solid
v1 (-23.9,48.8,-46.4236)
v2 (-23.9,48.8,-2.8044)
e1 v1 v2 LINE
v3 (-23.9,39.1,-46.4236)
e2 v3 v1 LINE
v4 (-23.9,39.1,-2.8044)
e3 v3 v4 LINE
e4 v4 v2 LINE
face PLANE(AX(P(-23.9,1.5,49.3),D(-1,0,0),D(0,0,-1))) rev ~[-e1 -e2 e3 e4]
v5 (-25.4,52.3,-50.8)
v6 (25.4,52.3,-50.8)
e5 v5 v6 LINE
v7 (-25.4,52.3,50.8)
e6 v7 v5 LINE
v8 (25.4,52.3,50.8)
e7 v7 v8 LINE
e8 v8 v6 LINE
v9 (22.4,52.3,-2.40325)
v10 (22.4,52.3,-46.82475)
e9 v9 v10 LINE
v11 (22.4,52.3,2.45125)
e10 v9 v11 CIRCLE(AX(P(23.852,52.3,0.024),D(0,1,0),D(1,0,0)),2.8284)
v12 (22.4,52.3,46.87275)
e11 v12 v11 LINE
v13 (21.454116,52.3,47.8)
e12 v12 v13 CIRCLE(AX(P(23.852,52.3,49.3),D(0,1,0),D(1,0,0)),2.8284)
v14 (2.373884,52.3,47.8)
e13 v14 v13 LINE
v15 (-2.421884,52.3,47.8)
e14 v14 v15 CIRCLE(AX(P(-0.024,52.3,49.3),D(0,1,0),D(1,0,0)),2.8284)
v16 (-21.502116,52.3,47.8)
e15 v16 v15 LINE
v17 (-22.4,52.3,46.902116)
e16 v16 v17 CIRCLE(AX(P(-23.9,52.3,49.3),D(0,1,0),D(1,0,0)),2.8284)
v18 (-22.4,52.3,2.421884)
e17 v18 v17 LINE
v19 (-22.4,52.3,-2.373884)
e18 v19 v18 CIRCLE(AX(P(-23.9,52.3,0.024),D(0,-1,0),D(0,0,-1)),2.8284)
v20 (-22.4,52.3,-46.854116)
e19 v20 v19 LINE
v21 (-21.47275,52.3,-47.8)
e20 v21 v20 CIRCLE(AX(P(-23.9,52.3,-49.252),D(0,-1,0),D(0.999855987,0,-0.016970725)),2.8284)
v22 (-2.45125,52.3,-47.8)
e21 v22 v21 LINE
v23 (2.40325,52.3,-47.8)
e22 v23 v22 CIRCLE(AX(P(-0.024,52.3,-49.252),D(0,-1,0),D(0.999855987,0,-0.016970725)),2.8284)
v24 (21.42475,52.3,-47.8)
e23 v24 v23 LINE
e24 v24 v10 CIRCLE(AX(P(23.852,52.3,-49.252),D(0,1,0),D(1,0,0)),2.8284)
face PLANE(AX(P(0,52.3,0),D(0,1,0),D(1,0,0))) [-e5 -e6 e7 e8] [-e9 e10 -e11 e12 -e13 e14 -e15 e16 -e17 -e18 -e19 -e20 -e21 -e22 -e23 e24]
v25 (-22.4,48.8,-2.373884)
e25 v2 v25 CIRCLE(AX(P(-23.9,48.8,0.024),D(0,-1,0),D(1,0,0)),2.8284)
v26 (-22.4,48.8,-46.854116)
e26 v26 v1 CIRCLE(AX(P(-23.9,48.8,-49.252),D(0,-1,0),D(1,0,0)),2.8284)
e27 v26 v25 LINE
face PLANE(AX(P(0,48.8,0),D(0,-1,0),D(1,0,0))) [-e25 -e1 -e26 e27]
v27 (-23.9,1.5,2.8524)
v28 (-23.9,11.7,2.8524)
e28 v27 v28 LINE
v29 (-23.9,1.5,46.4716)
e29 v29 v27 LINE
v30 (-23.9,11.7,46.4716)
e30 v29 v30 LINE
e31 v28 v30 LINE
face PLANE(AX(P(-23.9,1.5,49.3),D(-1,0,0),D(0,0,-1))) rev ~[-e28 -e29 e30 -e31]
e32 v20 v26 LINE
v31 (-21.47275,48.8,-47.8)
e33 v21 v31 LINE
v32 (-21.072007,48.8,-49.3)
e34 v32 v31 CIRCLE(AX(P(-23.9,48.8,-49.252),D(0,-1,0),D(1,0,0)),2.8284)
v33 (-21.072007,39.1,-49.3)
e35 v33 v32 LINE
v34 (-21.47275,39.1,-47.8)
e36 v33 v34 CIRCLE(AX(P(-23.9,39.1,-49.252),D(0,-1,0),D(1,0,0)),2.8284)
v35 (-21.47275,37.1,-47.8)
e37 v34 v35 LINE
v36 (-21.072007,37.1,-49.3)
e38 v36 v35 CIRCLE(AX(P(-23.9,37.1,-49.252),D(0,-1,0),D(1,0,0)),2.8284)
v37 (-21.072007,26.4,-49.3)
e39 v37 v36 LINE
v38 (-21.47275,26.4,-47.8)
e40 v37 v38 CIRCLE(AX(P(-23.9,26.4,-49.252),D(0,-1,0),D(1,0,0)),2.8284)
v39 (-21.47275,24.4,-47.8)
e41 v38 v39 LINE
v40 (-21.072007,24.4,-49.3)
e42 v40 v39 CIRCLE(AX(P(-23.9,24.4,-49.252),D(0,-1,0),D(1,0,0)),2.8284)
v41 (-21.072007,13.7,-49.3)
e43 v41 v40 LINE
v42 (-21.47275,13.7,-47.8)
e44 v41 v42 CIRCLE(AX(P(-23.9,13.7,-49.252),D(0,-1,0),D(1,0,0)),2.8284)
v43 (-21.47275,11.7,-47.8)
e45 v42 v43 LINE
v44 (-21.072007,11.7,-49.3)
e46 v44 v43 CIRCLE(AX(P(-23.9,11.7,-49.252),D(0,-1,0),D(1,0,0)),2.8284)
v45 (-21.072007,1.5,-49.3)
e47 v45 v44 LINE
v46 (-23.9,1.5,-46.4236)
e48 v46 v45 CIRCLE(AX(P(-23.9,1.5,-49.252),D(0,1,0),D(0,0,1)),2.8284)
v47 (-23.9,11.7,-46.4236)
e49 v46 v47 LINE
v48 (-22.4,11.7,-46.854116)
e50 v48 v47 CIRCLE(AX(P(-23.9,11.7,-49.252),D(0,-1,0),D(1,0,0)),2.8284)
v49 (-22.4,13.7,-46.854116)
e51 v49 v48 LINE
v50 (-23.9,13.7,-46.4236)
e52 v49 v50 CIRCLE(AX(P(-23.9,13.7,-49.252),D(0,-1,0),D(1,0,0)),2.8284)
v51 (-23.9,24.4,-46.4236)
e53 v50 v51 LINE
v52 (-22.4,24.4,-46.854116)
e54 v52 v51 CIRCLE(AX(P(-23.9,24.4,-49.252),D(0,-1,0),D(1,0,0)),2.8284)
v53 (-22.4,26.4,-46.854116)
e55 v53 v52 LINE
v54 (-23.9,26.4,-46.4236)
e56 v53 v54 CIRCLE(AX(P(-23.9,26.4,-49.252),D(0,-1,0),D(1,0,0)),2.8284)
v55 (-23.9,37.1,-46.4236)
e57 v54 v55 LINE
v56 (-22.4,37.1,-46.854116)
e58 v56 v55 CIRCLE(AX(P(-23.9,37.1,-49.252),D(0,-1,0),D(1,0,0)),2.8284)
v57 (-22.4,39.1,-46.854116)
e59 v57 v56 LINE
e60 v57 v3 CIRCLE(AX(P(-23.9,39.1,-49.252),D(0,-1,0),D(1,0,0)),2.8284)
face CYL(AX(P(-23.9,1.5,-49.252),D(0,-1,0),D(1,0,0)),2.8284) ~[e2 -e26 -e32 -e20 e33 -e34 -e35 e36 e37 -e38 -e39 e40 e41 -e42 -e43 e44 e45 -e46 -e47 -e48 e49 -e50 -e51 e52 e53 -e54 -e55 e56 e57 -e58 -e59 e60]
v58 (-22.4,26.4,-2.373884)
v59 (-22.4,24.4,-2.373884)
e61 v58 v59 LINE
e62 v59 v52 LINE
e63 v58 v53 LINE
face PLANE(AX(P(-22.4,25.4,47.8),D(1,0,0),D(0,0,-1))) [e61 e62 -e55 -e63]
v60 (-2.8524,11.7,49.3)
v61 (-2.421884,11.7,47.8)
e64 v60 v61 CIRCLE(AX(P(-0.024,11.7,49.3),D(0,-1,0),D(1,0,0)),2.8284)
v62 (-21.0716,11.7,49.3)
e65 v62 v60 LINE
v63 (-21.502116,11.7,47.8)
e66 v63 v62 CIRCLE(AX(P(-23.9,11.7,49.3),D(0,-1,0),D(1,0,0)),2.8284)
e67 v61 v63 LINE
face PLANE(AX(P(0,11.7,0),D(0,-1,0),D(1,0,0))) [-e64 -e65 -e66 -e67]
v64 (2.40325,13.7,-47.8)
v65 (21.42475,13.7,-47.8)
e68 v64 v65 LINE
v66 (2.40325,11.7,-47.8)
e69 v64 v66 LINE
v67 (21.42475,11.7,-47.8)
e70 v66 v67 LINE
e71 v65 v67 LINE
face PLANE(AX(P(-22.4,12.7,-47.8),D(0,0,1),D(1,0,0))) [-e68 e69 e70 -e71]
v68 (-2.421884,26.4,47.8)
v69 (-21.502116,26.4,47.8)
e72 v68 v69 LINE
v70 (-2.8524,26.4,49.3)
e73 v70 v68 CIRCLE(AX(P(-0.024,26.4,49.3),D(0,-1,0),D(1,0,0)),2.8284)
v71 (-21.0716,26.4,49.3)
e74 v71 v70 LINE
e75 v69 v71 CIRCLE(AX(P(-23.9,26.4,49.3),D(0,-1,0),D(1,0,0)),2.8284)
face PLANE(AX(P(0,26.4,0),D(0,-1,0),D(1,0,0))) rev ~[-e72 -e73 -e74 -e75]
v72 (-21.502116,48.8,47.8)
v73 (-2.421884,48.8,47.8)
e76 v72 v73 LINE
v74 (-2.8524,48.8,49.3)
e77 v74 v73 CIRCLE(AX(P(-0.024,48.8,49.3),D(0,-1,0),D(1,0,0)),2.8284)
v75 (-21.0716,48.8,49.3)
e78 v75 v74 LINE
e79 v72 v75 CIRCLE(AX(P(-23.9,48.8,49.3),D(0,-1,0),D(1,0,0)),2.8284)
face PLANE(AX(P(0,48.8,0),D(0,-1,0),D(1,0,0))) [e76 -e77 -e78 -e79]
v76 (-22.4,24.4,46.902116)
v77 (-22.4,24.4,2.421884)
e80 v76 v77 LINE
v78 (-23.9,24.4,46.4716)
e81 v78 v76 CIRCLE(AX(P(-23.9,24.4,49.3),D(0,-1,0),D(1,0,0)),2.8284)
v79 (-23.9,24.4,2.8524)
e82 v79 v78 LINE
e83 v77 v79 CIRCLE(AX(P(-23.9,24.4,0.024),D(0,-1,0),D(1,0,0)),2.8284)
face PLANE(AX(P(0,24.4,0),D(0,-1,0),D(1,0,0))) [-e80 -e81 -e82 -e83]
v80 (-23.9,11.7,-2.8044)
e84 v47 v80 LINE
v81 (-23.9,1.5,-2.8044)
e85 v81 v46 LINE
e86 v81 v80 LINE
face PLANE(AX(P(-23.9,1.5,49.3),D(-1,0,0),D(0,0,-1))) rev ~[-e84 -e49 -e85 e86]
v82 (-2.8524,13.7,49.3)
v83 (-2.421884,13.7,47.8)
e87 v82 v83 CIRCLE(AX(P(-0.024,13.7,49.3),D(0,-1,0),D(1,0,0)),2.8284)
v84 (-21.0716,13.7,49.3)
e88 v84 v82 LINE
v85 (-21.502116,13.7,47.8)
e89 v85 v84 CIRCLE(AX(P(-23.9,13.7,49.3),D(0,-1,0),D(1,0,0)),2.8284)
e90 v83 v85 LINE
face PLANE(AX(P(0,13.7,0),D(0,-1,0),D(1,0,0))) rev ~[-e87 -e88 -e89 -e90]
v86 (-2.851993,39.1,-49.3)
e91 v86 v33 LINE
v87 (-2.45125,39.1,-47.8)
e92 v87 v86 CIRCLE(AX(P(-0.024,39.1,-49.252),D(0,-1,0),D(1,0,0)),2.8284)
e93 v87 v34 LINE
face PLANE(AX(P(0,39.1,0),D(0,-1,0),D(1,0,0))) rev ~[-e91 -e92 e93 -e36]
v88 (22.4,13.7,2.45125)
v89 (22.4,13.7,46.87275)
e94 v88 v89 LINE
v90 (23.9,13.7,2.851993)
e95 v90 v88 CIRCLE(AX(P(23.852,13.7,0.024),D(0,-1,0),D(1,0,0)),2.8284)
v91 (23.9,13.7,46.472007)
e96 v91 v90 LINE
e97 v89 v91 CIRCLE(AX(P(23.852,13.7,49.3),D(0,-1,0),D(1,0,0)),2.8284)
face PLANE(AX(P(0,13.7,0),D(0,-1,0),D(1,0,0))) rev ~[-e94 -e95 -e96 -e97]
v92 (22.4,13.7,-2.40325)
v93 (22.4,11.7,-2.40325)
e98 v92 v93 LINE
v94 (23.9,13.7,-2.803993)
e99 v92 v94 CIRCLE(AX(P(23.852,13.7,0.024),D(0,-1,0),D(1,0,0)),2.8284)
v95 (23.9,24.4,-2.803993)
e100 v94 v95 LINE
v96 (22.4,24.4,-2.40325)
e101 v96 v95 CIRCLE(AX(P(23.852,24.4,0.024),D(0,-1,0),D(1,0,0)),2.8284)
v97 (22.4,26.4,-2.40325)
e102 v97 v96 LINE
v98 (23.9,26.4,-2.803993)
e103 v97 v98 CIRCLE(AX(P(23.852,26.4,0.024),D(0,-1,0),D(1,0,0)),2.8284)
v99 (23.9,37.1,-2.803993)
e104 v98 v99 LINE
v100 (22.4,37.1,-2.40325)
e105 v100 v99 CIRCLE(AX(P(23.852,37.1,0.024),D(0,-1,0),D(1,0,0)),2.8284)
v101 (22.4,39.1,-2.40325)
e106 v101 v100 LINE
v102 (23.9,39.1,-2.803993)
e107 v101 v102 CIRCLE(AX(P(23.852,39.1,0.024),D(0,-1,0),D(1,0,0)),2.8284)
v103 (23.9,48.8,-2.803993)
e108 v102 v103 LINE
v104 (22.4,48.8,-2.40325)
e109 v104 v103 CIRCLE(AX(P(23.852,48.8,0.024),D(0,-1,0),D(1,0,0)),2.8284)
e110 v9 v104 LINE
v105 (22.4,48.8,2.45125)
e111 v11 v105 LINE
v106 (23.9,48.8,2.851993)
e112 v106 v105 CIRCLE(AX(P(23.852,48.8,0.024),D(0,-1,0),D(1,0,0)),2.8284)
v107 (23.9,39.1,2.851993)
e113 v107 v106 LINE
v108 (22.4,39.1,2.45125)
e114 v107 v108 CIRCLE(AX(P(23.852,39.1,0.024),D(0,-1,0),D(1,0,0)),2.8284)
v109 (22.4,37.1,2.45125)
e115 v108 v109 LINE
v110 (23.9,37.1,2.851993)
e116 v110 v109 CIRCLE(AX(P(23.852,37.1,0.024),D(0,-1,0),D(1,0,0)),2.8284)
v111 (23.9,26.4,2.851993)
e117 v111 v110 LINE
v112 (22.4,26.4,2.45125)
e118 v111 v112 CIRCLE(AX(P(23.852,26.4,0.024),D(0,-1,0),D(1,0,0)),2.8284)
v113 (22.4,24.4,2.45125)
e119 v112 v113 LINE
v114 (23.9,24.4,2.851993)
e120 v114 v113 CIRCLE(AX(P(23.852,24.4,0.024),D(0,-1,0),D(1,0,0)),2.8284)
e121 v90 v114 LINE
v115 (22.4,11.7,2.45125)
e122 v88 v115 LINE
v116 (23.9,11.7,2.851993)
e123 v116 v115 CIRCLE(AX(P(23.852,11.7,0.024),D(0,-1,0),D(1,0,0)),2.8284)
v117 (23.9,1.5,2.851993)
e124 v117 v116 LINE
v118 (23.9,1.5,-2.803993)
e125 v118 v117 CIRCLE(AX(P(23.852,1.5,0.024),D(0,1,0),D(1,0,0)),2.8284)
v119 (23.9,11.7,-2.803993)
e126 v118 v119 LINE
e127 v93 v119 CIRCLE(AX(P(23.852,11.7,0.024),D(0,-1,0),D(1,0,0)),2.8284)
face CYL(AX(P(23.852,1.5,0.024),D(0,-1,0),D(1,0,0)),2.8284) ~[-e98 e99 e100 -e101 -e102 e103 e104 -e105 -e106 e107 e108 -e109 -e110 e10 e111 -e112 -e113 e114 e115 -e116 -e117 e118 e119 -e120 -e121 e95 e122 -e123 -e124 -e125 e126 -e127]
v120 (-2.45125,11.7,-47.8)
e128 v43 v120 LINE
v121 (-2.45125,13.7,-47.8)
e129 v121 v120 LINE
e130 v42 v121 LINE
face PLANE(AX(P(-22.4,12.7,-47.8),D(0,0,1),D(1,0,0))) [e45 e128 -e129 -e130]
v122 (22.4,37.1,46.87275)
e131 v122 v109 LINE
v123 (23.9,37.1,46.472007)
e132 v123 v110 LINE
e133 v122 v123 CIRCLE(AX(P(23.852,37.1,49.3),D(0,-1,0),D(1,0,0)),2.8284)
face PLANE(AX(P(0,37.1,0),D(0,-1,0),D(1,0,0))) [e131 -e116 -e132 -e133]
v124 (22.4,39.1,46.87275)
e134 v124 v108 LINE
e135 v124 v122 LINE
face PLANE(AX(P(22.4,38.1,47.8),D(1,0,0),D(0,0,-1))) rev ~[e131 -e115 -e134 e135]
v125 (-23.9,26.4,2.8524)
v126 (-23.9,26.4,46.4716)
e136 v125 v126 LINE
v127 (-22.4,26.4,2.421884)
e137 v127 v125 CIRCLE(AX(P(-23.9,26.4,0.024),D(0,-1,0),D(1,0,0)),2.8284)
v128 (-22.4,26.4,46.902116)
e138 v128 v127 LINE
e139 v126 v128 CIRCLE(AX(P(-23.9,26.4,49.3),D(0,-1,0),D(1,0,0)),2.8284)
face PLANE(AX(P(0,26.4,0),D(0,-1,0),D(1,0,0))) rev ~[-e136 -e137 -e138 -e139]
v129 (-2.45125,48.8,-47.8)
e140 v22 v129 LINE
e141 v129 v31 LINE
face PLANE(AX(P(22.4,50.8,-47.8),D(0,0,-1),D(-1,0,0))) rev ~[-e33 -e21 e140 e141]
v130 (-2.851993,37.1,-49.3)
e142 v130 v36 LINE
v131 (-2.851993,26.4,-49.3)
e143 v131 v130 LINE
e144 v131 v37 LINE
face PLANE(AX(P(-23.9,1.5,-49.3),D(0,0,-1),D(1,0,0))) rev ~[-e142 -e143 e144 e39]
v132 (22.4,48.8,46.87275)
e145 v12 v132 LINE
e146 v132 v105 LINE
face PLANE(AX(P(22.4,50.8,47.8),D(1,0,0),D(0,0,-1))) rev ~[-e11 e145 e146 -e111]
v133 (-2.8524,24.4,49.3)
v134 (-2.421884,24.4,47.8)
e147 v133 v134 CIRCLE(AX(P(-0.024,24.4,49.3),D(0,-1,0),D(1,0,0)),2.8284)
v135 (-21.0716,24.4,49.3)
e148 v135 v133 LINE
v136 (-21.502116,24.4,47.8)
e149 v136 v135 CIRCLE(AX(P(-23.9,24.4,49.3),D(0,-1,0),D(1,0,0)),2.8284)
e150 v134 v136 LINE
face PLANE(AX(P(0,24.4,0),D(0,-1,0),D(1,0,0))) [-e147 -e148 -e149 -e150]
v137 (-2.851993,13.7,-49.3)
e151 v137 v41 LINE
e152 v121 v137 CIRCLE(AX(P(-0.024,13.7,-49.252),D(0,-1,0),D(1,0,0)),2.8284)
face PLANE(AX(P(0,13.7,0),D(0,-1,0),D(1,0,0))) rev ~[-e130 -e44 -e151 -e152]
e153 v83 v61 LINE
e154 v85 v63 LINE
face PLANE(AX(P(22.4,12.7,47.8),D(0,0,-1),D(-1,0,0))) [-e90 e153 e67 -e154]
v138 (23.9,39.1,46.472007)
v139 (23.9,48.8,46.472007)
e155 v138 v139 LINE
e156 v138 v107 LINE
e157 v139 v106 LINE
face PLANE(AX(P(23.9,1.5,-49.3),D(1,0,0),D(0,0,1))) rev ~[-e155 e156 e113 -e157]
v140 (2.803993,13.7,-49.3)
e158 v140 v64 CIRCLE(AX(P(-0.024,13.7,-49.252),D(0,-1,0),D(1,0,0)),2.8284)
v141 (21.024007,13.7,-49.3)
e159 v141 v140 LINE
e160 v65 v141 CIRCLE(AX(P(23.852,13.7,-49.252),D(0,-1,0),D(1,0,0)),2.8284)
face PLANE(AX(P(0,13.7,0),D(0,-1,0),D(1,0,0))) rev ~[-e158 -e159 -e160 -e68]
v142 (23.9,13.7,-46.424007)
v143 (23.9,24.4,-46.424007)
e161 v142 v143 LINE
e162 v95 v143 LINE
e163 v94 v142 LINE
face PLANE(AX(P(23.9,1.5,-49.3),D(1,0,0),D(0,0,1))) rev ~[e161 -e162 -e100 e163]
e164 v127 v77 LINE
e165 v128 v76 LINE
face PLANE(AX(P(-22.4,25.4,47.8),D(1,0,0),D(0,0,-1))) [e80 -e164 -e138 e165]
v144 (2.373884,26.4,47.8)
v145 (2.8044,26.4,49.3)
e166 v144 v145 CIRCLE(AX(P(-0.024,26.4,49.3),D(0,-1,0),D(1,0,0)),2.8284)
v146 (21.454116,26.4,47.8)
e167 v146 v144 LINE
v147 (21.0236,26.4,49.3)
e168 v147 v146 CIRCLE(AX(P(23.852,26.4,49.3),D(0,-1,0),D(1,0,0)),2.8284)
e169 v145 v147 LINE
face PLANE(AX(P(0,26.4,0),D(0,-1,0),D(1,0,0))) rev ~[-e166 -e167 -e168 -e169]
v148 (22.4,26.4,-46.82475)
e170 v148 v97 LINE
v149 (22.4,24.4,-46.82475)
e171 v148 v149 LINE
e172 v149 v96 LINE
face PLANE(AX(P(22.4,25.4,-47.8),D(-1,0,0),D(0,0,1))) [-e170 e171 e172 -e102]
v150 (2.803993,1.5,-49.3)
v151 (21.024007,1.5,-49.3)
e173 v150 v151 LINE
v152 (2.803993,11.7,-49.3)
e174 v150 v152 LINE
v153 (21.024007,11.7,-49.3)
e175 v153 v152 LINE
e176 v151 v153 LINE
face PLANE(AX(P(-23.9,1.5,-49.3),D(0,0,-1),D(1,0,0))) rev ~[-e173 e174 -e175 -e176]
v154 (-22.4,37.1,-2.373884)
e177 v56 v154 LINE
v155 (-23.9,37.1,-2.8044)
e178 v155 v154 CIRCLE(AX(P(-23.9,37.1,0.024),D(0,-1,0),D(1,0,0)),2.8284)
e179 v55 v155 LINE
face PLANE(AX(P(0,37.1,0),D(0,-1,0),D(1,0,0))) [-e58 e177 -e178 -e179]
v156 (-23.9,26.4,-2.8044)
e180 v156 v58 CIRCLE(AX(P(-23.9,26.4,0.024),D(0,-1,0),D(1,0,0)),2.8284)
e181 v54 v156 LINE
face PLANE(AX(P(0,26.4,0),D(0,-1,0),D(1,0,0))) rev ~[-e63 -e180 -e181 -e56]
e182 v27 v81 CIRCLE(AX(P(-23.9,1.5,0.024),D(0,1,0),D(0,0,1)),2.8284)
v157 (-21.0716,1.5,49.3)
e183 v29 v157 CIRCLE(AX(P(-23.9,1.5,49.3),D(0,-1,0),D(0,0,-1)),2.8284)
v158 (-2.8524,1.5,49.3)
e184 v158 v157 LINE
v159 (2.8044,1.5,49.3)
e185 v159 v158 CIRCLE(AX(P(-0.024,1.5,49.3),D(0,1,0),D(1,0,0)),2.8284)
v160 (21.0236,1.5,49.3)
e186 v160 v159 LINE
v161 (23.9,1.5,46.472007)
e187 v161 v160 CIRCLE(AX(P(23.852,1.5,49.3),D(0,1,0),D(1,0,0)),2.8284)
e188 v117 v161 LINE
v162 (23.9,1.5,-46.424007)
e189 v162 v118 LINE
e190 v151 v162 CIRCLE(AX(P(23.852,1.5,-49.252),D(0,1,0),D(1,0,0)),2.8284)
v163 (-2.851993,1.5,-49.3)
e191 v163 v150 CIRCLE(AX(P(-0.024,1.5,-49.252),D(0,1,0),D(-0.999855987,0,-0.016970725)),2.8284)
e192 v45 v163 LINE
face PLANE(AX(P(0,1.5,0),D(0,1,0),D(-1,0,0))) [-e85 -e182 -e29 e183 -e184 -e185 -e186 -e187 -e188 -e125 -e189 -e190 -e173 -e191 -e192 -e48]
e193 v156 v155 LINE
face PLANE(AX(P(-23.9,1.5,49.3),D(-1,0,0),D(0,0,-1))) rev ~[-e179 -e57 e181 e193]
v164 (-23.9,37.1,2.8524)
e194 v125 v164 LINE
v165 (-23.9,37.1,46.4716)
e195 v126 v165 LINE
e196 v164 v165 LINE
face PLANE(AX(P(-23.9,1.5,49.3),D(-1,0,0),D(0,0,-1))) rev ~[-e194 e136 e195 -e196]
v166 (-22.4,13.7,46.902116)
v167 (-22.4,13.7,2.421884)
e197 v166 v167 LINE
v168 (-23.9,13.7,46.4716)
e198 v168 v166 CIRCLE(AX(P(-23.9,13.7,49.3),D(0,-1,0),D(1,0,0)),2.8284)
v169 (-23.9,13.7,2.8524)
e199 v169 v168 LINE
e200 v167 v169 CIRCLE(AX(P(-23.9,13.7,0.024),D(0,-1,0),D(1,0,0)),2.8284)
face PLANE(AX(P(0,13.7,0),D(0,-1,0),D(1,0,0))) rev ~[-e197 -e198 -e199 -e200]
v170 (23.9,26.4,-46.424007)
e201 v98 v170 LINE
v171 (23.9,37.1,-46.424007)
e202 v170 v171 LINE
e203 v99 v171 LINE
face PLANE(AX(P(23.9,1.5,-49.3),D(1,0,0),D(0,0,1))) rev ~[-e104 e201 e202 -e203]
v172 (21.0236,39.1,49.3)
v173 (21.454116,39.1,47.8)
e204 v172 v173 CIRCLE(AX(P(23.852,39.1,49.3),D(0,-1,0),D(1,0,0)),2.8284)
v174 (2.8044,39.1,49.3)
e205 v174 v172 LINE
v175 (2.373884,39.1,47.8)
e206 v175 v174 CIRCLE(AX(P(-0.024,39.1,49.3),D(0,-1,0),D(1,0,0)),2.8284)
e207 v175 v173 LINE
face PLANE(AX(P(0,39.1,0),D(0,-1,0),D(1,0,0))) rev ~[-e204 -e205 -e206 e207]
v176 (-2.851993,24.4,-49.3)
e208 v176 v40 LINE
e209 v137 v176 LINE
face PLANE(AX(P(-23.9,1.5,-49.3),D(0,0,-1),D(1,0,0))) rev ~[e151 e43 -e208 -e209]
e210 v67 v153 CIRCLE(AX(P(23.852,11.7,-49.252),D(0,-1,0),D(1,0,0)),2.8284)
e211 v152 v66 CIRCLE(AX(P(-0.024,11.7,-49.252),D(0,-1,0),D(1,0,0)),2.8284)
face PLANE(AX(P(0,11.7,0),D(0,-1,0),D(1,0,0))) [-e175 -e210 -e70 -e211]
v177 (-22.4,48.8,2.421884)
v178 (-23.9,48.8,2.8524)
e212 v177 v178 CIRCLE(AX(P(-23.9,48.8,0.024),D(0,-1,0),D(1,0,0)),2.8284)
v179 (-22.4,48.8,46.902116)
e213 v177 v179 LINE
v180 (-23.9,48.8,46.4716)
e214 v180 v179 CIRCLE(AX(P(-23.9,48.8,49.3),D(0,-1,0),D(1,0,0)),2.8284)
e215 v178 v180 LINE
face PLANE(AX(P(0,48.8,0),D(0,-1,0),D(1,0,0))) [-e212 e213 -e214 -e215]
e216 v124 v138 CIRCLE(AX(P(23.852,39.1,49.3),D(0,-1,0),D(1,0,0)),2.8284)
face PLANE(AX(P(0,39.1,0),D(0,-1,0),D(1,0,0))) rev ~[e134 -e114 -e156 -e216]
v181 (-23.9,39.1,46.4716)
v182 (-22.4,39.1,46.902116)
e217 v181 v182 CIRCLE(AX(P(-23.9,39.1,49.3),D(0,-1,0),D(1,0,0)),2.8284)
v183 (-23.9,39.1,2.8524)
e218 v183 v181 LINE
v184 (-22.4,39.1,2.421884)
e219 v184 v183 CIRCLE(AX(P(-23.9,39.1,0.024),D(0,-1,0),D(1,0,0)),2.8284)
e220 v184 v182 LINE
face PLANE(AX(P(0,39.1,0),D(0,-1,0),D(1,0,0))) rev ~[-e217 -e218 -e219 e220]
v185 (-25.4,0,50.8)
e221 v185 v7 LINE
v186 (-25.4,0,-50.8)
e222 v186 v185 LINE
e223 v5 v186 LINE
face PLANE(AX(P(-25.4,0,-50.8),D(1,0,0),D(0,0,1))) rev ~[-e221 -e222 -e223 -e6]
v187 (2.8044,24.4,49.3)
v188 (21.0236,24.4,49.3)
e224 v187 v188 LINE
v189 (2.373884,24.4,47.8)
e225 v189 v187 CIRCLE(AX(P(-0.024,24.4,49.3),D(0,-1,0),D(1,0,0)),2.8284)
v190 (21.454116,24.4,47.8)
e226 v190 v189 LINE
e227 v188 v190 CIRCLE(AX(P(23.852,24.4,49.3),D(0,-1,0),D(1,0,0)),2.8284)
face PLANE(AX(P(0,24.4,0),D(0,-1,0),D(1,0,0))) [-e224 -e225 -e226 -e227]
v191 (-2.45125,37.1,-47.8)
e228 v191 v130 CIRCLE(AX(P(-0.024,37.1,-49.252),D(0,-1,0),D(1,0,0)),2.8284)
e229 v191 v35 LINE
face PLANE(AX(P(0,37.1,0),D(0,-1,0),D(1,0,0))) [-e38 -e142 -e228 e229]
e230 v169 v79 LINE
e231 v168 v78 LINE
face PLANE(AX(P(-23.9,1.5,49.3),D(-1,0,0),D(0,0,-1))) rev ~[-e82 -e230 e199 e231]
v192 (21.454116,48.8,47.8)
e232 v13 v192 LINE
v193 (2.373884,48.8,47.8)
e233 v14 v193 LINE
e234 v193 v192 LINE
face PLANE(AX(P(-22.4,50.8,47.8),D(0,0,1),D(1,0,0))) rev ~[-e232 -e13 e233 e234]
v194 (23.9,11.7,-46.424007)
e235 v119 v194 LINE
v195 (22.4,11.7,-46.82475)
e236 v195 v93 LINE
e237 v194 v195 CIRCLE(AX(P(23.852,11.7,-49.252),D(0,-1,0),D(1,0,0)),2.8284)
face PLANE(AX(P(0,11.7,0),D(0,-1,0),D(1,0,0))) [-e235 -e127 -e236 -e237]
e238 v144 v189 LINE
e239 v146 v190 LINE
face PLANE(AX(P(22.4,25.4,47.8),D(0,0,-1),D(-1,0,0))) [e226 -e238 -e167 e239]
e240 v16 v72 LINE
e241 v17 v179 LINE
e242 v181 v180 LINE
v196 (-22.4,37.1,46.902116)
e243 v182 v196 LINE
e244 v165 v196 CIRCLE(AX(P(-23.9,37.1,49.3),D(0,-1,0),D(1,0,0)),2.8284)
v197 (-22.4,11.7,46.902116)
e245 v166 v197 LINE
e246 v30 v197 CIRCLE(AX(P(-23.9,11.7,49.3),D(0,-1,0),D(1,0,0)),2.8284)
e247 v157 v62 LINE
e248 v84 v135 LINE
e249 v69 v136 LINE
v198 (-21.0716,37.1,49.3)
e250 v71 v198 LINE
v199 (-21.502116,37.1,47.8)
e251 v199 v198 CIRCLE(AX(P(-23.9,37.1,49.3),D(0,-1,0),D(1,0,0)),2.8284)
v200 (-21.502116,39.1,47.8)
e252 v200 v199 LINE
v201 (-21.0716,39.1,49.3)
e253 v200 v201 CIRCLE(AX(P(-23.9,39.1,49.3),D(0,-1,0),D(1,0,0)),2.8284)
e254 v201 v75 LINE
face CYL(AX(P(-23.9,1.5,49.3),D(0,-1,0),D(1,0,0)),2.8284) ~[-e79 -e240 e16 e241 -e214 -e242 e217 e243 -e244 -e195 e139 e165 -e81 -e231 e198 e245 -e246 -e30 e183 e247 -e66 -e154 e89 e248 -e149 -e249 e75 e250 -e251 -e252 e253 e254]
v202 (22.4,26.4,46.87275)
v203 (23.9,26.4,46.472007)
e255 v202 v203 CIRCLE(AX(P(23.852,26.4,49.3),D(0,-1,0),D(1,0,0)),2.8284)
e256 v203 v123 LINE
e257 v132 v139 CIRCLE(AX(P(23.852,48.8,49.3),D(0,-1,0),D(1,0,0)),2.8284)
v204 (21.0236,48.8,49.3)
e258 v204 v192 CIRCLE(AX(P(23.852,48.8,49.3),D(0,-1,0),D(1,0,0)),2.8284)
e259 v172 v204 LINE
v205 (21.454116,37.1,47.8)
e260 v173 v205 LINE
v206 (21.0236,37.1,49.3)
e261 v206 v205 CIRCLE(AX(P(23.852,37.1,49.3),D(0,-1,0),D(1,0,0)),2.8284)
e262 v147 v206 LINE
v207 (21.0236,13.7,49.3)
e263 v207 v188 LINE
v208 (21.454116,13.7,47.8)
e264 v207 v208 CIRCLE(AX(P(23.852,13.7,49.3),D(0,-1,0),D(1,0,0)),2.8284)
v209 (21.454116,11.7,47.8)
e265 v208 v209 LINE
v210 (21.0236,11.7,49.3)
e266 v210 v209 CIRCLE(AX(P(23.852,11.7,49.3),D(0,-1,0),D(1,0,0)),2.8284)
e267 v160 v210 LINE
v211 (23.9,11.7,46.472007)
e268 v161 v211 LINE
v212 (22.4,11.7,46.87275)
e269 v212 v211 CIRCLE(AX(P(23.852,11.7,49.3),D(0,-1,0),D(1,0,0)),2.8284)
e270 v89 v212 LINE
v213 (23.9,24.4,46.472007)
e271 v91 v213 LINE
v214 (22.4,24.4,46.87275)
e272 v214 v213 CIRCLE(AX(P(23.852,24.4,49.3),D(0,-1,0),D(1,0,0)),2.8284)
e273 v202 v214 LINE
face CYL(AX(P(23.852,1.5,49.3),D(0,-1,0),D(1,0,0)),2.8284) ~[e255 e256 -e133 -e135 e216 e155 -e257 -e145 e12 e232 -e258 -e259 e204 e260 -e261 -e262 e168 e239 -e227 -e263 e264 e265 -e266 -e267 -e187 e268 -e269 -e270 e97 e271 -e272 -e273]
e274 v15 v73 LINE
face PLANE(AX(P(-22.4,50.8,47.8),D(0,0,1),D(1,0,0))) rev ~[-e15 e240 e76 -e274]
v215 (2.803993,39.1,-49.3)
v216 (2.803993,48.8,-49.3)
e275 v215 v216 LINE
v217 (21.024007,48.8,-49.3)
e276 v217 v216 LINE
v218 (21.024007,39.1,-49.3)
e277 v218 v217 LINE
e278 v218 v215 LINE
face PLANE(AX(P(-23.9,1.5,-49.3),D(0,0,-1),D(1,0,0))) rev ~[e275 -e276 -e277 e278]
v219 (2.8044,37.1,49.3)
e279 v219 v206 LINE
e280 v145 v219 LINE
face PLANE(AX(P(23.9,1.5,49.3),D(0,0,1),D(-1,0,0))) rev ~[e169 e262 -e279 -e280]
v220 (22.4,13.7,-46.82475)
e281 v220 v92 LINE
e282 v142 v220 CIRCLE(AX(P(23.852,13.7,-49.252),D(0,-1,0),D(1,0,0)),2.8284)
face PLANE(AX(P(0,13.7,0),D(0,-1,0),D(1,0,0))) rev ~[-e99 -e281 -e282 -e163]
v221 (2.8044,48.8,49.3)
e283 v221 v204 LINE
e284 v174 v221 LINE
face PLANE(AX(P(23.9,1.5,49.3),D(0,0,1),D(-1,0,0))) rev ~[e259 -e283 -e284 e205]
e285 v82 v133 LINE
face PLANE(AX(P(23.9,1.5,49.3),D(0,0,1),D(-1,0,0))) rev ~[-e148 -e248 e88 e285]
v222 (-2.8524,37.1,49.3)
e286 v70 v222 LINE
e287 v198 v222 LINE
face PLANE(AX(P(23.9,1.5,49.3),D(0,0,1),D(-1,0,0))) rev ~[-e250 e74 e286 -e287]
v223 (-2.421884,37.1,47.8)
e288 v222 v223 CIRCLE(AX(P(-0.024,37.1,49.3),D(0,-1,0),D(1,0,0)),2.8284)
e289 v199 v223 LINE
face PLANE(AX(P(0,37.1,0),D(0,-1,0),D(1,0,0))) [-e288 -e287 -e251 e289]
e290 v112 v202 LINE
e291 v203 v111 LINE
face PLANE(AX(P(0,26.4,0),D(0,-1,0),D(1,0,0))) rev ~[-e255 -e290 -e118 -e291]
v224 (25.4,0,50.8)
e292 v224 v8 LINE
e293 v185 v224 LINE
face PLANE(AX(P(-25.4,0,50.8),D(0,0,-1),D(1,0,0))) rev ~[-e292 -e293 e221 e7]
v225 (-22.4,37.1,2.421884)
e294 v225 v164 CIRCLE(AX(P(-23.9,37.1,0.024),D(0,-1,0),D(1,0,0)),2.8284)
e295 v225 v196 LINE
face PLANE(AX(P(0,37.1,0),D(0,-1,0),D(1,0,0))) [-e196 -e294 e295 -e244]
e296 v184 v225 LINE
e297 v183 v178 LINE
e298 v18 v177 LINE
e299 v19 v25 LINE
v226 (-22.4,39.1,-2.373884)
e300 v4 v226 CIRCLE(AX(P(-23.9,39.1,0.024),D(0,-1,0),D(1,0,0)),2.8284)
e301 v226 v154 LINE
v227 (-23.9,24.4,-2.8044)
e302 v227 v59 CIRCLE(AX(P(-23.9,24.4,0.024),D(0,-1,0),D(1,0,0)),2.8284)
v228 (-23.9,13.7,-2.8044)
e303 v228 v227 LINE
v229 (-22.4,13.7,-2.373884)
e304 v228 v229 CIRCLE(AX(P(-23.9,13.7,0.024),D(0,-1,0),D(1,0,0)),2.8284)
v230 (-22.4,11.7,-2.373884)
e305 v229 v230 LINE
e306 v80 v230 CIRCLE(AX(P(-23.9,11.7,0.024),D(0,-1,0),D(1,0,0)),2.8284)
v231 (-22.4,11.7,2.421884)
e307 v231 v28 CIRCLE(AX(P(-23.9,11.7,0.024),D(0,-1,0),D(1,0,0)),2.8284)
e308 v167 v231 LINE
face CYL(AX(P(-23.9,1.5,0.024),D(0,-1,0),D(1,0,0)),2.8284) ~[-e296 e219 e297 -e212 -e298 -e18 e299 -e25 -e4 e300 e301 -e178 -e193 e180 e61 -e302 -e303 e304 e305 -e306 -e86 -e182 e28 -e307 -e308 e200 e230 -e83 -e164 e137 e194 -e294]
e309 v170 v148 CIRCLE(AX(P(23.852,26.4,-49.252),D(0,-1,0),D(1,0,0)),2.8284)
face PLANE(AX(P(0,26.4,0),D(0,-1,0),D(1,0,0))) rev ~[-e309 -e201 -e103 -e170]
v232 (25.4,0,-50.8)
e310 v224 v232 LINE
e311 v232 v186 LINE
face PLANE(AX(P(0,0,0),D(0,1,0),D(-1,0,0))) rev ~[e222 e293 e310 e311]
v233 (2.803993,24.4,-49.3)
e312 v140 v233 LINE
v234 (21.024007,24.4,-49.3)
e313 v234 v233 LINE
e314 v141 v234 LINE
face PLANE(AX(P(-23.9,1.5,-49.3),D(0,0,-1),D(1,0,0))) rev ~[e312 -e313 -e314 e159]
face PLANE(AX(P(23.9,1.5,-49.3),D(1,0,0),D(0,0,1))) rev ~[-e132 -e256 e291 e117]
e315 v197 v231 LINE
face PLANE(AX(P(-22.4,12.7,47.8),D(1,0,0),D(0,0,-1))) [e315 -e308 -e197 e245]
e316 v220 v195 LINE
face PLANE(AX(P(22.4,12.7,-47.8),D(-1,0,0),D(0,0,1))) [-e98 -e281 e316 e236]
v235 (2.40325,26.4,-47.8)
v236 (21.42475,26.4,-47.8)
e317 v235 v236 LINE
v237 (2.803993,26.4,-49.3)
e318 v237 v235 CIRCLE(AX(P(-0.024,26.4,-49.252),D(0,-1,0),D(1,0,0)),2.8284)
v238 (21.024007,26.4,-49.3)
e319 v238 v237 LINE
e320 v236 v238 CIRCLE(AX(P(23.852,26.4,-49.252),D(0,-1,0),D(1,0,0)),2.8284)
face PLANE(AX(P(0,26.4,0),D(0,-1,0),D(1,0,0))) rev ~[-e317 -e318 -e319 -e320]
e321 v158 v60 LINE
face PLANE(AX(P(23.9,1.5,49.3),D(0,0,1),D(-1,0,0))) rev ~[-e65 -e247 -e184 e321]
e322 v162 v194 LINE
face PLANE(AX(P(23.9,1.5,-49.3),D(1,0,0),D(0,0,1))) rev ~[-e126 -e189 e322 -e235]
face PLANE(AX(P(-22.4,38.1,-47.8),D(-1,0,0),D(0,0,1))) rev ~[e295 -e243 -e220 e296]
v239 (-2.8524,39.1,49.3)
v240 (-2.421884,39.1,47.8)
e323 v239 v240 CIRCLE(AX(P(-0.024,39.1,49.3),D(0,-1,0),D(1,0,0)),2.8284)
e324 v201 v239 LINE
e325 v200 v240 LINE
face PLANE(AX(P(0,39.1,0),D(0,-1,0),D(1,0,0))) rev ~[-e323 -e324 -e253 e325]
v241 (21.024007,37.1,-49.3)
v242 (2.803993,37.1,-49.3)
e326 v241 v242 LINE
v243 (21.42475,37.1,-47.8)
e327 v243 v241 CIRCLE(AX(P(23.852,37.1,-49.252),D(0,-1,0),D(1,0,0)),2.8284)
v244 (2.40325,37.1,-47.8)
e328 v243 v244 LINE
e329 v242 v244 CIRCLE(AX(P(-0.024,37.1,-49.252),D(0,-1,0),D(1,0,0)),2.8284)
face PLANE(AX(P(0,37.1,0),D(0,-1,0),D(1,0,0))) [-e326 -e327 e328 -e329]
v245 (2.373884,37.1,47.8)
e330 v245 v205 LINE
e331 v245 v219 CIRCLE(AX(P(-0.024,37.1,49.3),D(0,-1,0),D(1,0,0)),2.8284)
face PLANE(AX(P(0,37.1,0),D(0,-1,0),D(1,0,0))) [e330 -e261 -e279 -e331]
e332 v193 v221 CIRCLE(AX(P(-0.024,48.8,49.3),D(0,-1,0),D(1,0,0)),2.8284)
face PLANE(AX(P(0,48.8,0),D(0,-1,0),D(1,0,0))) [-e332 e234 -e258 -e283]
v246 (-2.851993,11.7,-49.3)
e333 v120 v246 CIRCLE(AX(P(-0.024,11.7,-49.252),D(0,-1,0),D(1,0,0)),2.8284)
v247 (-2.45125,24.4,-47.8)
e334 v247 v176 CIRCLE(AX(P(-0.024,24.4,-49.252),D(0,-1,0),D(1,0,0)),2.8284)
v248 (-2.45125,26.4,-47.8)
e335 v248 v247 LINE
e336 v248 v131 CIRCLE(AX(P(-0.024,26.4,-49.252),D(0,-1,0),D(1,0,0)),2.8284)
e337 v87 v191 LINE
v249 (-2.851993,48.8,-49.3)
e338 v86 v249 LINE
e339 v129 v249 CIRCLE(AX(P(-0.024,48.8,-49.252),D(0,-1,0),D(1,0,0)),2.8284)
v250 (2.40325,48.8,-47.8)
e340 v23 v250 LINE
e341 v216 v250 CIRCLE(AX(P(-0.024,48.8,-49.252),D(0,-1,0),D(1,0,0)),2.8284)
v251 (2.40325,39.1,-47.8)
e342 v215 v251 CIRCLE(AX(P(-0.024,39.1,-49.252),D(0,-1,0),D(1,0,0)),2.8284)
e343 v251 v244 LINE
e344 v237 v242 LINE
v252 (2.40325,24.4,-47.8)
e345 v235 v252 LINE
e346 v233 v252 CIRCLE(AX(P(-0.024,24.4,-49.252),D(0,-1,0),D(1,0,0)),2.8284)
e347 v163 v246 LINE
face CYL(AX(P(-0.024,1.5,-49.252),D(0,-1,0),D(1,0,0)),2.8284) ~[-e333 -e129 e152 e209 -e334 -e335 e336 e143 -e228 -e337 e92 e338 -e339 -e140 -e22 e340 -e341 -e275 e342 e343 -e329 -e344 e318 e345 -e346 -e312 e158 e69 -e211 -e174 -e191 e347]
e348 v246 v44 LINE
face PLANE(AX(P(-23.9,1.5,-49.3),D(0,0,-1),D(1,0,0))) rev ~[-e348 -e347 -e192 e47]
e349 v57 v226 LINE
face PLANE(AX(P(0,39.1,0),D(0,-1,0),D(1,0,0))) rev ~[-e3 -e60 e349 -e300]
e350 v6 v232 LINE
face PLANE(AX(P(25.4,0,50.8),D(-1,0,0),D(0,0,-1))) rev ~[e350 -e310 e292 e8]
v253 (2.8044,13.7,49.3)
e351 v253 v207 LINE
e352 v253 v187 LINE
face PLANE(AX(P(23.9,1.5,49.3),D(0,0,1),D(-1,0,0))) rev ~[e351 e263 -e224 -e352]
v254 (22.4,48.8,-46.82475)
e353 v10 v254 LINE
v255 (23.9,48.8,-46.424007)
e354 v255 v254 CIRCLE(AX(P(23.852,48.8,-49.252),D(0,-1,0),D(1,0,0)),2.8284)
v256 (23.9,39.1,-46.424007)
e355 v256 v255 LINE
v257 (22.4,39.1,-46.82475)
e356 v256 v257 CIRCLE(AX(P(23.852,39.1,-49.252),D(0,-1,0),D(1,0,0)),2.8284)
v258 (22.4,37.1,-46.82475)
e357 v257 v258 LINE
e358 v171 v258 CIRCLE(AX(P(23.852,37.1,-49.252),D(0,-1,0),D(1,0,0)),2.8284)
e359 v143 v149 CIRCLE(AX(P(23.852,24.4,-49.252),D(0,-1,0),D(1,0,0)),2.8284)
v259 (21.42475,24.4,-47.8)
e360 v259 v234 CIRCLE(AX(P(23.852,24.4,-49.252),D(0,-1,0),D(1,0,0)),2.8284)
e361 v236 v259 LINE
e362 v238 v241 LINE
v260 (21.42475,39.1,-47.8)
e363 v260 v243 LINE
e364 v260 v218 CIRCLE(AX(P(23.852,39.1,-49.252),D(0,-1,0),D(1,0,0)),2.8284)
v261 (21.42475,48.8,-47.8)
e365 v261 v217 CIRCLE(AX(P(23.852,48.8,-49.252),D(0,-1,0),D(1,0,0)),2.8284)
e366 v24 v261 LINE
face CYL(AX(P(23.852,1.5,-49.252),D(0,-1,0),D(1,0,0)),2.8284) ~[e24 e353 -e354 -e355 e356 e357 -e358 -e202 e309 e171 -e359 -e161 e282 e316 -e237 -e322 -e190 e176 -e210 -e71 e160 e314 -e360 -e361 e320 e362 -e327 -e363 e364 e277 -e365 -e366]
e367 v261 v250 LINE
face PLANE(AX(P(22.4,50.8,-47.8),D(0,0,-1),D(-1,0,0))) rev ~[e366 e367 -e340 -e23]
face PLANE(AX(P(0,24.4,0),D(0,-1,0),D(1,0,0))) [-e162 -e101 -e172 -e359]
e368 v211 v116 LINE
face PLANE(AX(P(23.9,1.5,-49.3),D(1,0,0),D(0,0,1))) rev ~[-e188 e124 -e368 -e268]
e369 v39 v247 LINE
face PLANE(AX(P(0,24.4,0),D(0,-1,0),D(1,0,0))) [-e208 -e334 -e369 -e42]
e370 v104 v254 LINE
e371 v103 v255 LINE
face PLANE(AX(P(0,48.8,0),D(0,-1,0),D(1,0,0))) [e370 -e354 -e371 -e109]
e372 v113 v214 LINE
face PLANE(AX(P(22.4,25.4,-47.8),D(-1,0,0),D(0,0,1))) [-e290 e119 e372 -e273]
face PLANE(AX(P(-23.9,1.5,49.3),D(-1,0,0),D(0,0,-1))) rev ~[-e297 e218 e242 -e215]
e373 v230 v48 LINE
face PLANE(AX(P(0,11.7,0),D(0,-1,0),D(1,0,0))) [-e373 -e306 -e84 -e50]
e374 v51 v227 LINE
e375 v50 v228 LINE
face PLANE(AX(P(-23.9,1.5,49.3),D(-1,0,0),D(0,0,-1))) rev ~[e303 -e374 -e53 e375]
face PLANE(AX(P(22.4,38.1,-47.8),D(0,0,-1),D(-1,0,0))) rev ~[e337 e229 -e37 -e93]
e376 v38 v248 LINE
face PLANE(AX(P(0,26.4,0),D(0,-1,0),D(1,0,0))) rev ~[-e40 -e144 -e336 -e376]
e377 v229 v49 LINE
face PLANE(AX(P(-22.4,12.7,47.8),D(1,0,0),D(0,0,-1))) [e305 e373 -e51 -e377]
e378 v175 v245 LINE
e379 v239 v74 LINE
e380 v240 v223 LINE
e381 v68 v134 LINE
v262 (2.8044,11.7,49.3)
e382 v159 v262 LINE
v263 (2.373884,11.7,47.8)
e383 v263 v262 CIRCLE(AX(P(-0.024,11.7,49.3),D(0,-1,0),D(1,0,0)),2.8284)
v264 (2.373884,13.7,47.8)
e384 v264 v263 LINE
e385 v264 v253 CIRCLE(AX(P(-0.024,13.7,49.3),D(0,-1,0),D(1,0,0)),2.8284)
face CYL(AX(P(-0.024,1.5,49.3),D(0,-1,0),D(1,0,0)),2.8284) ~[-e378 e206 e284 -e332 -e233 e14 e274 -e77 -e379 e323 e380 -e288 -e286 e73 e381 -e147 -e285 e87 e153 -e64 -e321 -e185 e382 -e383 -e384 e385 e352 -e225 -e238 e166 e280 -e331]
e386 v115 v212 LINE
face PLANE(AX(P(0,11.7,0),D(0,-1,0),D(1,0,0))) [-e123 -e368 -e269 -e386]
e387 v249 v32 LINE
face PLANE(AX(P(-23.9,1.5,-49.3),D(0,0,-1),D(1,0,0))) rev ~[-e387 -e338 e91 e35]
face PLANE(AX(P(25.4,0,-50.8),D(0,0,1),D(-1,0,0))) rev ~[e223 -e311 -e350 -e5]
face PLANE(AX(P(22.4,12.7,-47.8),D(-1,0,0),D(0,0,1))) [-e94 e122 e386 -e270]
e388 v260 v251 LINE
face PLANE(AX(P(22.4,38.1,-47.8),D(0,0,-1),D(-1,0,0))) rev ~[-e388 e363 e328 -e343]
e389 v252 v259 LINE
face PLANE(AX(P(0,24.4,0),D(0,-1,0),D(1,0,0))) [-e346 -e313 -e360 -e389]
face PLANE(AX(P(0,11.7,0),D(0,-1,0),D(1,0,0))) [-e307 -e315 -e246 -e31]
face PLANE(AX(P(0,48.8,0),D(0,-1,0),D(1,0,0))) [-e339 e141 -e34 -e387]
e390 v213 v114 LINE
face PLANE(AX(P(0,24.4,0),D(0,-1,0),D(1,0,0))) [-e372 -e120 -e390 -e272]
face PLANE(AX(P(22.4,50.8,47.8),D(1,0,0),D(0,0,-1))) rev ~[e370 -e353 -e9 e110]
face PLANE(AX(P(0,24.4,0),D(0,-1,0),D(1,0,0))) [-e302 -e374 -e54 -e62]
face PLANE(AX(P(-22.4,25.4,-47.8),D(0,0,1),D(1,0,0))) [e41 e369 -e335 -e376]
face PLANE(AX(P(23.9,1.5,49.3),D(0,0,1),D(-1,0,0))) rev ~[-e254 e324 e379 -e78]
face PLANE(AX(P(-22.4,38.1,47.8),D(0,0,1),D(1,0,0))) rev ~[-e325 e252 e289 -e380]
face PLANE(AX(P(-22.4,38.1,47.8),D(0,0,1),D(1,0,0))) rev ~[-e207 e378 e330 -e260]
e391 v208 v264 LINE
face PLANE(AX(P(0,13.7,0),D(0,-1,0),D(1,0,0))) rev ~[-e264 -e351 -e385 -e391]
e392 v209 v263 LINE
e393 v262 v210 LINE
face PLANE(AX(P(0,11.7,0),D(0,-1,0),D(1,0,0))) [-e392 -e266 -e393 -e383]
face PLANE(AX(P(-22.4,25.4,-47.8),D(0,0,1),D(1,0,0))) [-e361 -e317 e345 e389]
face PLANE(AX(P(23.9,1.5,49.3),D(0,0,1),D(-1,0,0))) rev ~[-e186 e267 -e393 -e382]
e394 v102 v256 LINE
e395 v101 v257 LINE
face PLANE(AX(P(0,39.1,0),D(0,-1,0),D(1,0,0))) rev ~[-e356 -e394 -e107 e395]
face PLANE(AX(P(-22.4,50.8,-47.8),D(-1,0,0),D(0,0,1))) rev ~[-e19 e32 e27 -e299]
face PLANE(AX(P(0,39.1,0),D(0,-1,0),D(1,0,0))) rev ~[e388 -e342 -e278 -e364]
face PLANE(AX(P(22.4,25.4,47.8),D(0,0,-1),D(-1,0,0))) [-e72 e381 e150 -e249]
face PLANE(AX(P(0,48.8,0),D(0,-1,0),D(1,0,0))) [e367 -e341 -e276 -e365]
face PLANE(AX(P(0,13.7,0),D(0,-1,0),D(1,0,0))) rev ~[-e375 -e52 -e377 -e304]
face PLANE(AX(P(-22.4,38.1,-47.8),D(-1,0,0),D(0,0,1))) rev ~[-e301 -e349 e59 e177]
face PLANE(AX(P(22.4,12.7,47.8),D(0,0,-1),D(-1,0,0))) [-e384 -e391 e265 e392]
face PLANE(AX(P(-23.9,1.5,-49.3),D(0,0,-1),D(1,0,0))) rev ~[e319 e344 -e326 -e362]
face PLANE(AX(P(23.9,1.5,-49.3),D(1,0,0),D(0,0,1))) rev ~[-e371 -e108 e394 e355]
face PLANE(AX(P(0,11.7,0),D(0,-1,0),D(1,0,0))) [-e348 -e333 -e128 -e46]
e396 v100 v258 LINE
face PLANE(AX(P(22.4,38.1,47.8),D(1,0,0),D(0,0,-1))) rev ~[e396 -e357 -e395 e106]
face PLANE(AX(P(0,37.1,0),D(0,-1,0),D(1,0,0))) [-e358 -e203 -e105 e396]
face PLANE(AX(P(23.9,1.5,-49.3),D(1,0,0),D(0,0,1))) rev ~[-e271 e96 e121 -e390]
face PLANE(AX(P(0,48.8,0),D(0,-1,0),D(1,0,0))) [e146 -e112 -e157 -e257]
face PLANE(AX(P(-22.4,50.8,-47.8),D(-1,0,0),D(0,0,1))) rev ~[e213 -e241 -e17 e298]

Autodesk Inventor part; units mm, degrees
ref_plane "YZ Plane" through (0, 0, 0) normal (1, 0, 0) x (0, 1, 0)
ref_plane "XZ Plane" through (0, 0, 0) normal (0, 1, 0) x (-1, 0, 0)
sketch "Sketch1" plane through (0, 0, 0) normal (0, 1, 0) x (-1, 0, 0)
  line L0 (25.4, 50.8) -> (-25.4, 50.8)
  line L1 (-25.4, 50.8) -> (-25.4, -50.8)
  line L2 (-25.4, -50.8) -> (25.4, -50.8)
  line L3 (25.4, -50.8) -> (25.4, 50.8)
  line L4 (25.4, 50.8) -> (-25.4, -50.8) construction
  line L5 (-25.4, 50.8) -> (25.4, -50.8) construction
  point P0 (0, 0)
  dimension "d0" = 50.8
  dimension "d1" = 101.6
extrude "Extrusion1" add sketch "Sketch1" along normal blind 1.5
sketch "Sketch2" plane through (0, 1.5, 0) normal (0, 1, 0) x (1, 0, 0)
  line L0 (-25.4, 50.8) -> (25.4, 50.8)
  line L1 (25.4, 50.8) -> (25.4, -50.8)
  line L2 (25.4, -50.8) -> (-25.4, -50.8)
  line L3 (-25.4, -50.8) -> (-25.4, 50.8)
  line L4 (-25.4, 50.8) -> (25.4, -50.8) construction
  line L5 (25.4, 50.8) -> (-25.4, -50.8) construction
  line L6 (25.4, -50.8) -> (23.9, -50.8)
  line L7 (23.9, -50.8) -> (23.9, -49.3)
  line L8 (23.9, -49.3) -> (25.4, -49.3)
  line L9 (25.4, -49.3) -> (25.4, -50.8)
  line L10 (-25.4, 50.8) -> (-23.9, 50.8)
  line L11 (-23.9, 50.8) -> (-23.9, 49.3)
  line L12 (-23.9, 49.3) -> (-25.4, 49.3)
  line L13 (-25.4, 49.3) -> (-25.4, 50.8)
  line L14 (-23.9, 49.3) -> (23.9, 49.3)
  line L15 (23.9, 49.3) -> (23.9, -49.3)
  line L16 (23.9, -49.3) -> (-23.9, -49.3)
  line L17 (-23.9, -49.3) -> (-23.9, 49.3)
  point P0 (0, 0)
  dimension "d4" = 50.8
  dimension "d5" = 101.6
  dimension "d6" = 1.5
  dimension "d7" = 1.5
  dimension "d8" = 1.5
  dimension "d9" = 1.5
extrude "Extrusion2" add sketch "Sketch2" along normal blind 50.8 contours L0 L11 L12 L3 | L0 L1 L8 L15 L14 L11 | L12 L17 L16 L7 L2 L3 | L1 L2 L7 L8
sketch "Sketch3" plane through (0, 1.5, 0) normal (0, 1, 0) x (1, 0, 0)
  line L0 (-23.9, -49.3) -> (-23.9, 49.3) projected
  line L1 (23.9, -49.3) -> (-23.9, -49.3)
  line L2 (-23.9, -49.3) -> (-23.9, 49.3)
  line L3 (-23.9, 49.3) -> (23.9, 49.3)
  line L4 (23.9, 49.3) -> (23.9, -49.3)
  line L5 (23.9, -49.3) -> (-23.9, 49.3) construction
  line L6 (-23.9, -49.3) -> (23.9, 49.3) construction
  line L7 (-23.9, -49.3) -> (-21.9, -49.3)
  line L8 (-21.9, -49.3) -> (-21.9, -47.3)
  line L9 (-21.9, -47.3) -> (-23.9, -47.3)
  line L10 (-23.9, -47.3) -> (-23.9, -49.3)
  circle A0 centre (-23.9, -49.3) radius 2.8284
  circle A1 centre (-23.9, -0.024) radius 2.8284
  circle A2 centre (-23.9, 49.252) radius 2.8284
  circle A3 centre (-0.024, -49.3) radius 2.8284
  circle A4 centre (-0.024, -0.024) radius 2.8284
  circle A5 centre (-0.024, 49.252) radius 2.8284
  circle A6 centre (23.852, -49.3) radius 2.8284
  circle A7 centre (23.852, -0.024) radius 2.8284
  circle A8 centre (23.852, 49.252) radius 2.8284
  point P0 (0, 0)
  point P1 (-21.0716, -49.3)
  point P2 (-23.9, -46.4716)
  point P3 (-21.9, 1.976)
  point P4 (-21.9, 51.252)
  point P5 (1.976, -47.3)
  point P6 (1.976, 1.976)
  point P7 (1.976, 51.252)
  point P8 (25.852, -47.3)
  point P9 (25.852, 1.976)
  point P10 (25.852, 51.252)
  point P11 (-23.9, 2.8044)
  point P12 (-23.9, -2.8524)
  point P13 (-21.072, 49.3)
  point P14 (-23.9, 46.4236)
  point P15 (-2.852, 49.3)
  point P16 (2.804, 49.3)
  point P17 (21.024, 49.3)
  point P18 (23.9, 46.424)
  point P19 (23.9, -2.852)
  point P20 (23.9, 2.804)
  point P21 (23.9, -46.472)
  point P22 (21.0236, -49.3)
  point P23 (-2.8524, -49.3)
  point P24 (2.8044, -49.3)
  dimension "d12" = 2
  dimension "d13" = 2
  dimension "d18" = 49.276
  dimension "d21" = 23.876
extrude "Extrusion3" add sketch "Sketch3" along normal blind 50.8 contours L0 L9 L8 L1 | L0 A0 L9 | L8 A0 L1 | L0 A1 | A3 L1 | L0 L3 A2 | A6 L4 L1 | L3 A5 | A7 L4 | L3 L4 A8 picked at (-22.9572, -0.024) picked at (0.6817, -48.6748) picked at (-23.6902, 47.406) picked at (22.0065, -49.088) picked at (-0.1462, 48.3492) picked at (22.085, 0.0683) picked at (22.5434, 47.9434)
ref_plane "Work Plane1" through (0, 12.7, 0) normal (0, -1, 0) x (1, 0, 0)
sketch "Sketch4" plane through (0, 12.7, 0) normal (0, -1, 0) x (1, 0, 0)
  line L0 (-25.4, 50.8) -> (25.4, 50.8)
  line L1 (25.4, 50.8) -> (25.4, -50.8)
  line L2 (25.4, -50.8) -> (-25.4, -50.8)
  line L3 (-25.4, -50.8) -> (-25.4, 50.8)
  line L4 (-25.4, 50.8) -> (25.4, -50.8) construction
  line L5 (25.4, 50.8) -> (-25.4, -50.8) construction
  line L6 (-25.4, -50.8) -> (-22.4, -50.8)
  line L7 (-22.4, -50.8) -> (-22.4, -47.8)
  line L8 (-22.4, -47.8) -> (-25.4, -47.8)
  line L9 (-25.4, -47.8) -> (-25.4, -50.8)
  line L10 (25.4, 50.8) -> (22.4, 50.8)
  line L11 (22.4, 50.8) -> (22.4, 47.8)
  line L12 (22.4, 47.8) -> (25.4, 47.8)
  line L13 (25.4, 47.8) -> (25.4, 50.8)
  line L14 (22.4, 47.8) -> (-22.4, 47.8)
  line L15 (-22.4, 47.8) -> (-22.4, -47.8)
  line L16 (-22.4, -47.8) -> (22.4, -47.8)
  line L17 (22.4, -47.8) -> (22.4, 47.8)
  point P0 (0, 0)
  dimension "d25" = 50.8
  dimension "d26" = 101.6
  dimension "d27" = 3
  dimension "d28" = 3
  dimension "d29" = 3
  dimension "d30" = 3
extrude "Extrusion4" add sketch "Sketch4" along normal mid plane 2 contours L0 L11 L14 L15 L8 L3 | L0 L1 L12 L11 | L8 L7 L2 L3 | L12 L1 L2 L7 L16 L17
ref_plane "Work Plane2" through (0, 25.4, 0) normal (0, -1, 0) x (1, 0, 0)
sketch "Sketch5" plane through (0, 25.4, 0) normal (0, -1, 0) x (1, 0, 0)
  line L0 (25.4, -50.8) -> (-25.4, -50.8) projected
  line L1 (-25.4, 50.8) -> (25.4, 50.8)
  line L2 (25.4, 50.8) -> (25.4, -50.8)
  line L3 (25.4, -50.8) -> (-25.4, -50.8)
  line L4 (-25.4, -50.8) -> (-25.4, 50.8)
  line L5 (-25.4, 50.8) -> (25.4, -50.8) construction
  line L6 (25.4, 50.8) -> (-25.4, -50.8) construction
  line L7 (-22.4, -47.8) -> (22.4, -47.8)
  line L8 (22.4, -47.8) -> (22.4, 47.8)
  line L9 (22.4, 47.8) -> (-22.4, 47.8)
  line L10 (-22.4, 47.8) -> (-22.4, -47.8)
  line L11 (-22.4, -47.8) -> (22.4, 47.8) construction
  line L12 (22.4, -47.8) -> (-22.4, 47.8) construction
  point P0 (0, 0)
  dimension "d34" = 50.8
  dimension "d35" = 101.6
  dimension "d36" = 44.8
  dimension "d37" = 95.6
extrude "Extrusion5" add sketch "Sketch5" along normal mid plane 2
ref_plane "Work Plane3" through (0, 38.1, 0) normal (0, -1, 0) x (1, 0, 0)
sketch "Sketch6" plane through (0, 38.1, 0) normal (0, -1, 0) x (1, 0, 0)
  line L0 (25.4, 50.8) -> (-25.4, 50.8)
  line L1 (-25.4, 50.8) -> (-25.4, -50.8)
  line L2 (-25.4, -50.8) -> (25.4, -50.8)
  line L3 (25.4, -50.8) -> (25.4, 50.8)
  line L4 (25.4, 50.8) -> (-25.4, -50.8) construction
  line L5 (-25.4, 50.8) -> (25.4, -50.8) construction
  line L6 (-22.4, 47.8) -> (22.4, 47.8)
  line L7 (22.4, 47.8) -> (22.4, -47.8)
  line L8 (22.4, -47.8) -> (-22.4, -47.8)
  line L9 (-22.4, -47.8) -> (-22.4, 47.8)
  line L10 (-22.4, 47.8) -> (22.4, -47.8) construction
  line L11 (22.4, 47.8) -> (-22.4, -47.8) construction
  point P0 (0, 0)
  dimension "d41" = 50.8
  dimension "d42" = 101.6
  dimension "d43" = 44.8
  dimension "d44" = 95.6
extrude "Extrusion6" add sketch "Sketch6" along normal mid plane 2
ref_plane "Work Plane4" through (0, 50.8, 0) normal (0, -1, 0) x (1, 0, 0)
sketch "Sketch7" plane through (0, 50.8, 0) normal (0, -1, 0) x (1, 0, 0)
  line L0 (25.4, 50.8) -> (25.4, -50.8) projected
  line L1 (-25.4, 50.8) -> (25.4, 50.8)
  line L2 (25.4, 50.8) -> (25.4, -50.8)
  line L3 (25.4, -50.8) -> (-25.4, -50.8)
  line L4 (-25.4, -50.8) -> (-25.4, 50.8)
  line L5 (-25.4, 50.8) -> (25.4, -50.8) construction
  line L6 (25.4, 50.8) -> (-25.4, -50.8) construction
  line L7 (-22.4, 47.8) -> (22.4, 47.8)
  line L8 (22.4, 47.8) -> (22.4, -47.8)
  line L9 (22.4, -47.8) -> (-22.4, -47.8)
  line L10 (-22.4, -47.8) -> (-22.4, 47.8)
  line L11 (-22.4, 47.8) -> (22.4, -47.8) construction
  line L12 (22.4, 47.8) -> (-22.4, -47.8) construction
  point P0 (0, 0)
  dimension "d48" = 50.8
  dimension "d49" = 101.6
  dimension "d50" = 44.8
  dimension "d51" = 95.6
extrude "Extrusion7" add sketch "Sketch7" along normal blind 2 and the other way blind 1.5
properties material "PET Plastic"
